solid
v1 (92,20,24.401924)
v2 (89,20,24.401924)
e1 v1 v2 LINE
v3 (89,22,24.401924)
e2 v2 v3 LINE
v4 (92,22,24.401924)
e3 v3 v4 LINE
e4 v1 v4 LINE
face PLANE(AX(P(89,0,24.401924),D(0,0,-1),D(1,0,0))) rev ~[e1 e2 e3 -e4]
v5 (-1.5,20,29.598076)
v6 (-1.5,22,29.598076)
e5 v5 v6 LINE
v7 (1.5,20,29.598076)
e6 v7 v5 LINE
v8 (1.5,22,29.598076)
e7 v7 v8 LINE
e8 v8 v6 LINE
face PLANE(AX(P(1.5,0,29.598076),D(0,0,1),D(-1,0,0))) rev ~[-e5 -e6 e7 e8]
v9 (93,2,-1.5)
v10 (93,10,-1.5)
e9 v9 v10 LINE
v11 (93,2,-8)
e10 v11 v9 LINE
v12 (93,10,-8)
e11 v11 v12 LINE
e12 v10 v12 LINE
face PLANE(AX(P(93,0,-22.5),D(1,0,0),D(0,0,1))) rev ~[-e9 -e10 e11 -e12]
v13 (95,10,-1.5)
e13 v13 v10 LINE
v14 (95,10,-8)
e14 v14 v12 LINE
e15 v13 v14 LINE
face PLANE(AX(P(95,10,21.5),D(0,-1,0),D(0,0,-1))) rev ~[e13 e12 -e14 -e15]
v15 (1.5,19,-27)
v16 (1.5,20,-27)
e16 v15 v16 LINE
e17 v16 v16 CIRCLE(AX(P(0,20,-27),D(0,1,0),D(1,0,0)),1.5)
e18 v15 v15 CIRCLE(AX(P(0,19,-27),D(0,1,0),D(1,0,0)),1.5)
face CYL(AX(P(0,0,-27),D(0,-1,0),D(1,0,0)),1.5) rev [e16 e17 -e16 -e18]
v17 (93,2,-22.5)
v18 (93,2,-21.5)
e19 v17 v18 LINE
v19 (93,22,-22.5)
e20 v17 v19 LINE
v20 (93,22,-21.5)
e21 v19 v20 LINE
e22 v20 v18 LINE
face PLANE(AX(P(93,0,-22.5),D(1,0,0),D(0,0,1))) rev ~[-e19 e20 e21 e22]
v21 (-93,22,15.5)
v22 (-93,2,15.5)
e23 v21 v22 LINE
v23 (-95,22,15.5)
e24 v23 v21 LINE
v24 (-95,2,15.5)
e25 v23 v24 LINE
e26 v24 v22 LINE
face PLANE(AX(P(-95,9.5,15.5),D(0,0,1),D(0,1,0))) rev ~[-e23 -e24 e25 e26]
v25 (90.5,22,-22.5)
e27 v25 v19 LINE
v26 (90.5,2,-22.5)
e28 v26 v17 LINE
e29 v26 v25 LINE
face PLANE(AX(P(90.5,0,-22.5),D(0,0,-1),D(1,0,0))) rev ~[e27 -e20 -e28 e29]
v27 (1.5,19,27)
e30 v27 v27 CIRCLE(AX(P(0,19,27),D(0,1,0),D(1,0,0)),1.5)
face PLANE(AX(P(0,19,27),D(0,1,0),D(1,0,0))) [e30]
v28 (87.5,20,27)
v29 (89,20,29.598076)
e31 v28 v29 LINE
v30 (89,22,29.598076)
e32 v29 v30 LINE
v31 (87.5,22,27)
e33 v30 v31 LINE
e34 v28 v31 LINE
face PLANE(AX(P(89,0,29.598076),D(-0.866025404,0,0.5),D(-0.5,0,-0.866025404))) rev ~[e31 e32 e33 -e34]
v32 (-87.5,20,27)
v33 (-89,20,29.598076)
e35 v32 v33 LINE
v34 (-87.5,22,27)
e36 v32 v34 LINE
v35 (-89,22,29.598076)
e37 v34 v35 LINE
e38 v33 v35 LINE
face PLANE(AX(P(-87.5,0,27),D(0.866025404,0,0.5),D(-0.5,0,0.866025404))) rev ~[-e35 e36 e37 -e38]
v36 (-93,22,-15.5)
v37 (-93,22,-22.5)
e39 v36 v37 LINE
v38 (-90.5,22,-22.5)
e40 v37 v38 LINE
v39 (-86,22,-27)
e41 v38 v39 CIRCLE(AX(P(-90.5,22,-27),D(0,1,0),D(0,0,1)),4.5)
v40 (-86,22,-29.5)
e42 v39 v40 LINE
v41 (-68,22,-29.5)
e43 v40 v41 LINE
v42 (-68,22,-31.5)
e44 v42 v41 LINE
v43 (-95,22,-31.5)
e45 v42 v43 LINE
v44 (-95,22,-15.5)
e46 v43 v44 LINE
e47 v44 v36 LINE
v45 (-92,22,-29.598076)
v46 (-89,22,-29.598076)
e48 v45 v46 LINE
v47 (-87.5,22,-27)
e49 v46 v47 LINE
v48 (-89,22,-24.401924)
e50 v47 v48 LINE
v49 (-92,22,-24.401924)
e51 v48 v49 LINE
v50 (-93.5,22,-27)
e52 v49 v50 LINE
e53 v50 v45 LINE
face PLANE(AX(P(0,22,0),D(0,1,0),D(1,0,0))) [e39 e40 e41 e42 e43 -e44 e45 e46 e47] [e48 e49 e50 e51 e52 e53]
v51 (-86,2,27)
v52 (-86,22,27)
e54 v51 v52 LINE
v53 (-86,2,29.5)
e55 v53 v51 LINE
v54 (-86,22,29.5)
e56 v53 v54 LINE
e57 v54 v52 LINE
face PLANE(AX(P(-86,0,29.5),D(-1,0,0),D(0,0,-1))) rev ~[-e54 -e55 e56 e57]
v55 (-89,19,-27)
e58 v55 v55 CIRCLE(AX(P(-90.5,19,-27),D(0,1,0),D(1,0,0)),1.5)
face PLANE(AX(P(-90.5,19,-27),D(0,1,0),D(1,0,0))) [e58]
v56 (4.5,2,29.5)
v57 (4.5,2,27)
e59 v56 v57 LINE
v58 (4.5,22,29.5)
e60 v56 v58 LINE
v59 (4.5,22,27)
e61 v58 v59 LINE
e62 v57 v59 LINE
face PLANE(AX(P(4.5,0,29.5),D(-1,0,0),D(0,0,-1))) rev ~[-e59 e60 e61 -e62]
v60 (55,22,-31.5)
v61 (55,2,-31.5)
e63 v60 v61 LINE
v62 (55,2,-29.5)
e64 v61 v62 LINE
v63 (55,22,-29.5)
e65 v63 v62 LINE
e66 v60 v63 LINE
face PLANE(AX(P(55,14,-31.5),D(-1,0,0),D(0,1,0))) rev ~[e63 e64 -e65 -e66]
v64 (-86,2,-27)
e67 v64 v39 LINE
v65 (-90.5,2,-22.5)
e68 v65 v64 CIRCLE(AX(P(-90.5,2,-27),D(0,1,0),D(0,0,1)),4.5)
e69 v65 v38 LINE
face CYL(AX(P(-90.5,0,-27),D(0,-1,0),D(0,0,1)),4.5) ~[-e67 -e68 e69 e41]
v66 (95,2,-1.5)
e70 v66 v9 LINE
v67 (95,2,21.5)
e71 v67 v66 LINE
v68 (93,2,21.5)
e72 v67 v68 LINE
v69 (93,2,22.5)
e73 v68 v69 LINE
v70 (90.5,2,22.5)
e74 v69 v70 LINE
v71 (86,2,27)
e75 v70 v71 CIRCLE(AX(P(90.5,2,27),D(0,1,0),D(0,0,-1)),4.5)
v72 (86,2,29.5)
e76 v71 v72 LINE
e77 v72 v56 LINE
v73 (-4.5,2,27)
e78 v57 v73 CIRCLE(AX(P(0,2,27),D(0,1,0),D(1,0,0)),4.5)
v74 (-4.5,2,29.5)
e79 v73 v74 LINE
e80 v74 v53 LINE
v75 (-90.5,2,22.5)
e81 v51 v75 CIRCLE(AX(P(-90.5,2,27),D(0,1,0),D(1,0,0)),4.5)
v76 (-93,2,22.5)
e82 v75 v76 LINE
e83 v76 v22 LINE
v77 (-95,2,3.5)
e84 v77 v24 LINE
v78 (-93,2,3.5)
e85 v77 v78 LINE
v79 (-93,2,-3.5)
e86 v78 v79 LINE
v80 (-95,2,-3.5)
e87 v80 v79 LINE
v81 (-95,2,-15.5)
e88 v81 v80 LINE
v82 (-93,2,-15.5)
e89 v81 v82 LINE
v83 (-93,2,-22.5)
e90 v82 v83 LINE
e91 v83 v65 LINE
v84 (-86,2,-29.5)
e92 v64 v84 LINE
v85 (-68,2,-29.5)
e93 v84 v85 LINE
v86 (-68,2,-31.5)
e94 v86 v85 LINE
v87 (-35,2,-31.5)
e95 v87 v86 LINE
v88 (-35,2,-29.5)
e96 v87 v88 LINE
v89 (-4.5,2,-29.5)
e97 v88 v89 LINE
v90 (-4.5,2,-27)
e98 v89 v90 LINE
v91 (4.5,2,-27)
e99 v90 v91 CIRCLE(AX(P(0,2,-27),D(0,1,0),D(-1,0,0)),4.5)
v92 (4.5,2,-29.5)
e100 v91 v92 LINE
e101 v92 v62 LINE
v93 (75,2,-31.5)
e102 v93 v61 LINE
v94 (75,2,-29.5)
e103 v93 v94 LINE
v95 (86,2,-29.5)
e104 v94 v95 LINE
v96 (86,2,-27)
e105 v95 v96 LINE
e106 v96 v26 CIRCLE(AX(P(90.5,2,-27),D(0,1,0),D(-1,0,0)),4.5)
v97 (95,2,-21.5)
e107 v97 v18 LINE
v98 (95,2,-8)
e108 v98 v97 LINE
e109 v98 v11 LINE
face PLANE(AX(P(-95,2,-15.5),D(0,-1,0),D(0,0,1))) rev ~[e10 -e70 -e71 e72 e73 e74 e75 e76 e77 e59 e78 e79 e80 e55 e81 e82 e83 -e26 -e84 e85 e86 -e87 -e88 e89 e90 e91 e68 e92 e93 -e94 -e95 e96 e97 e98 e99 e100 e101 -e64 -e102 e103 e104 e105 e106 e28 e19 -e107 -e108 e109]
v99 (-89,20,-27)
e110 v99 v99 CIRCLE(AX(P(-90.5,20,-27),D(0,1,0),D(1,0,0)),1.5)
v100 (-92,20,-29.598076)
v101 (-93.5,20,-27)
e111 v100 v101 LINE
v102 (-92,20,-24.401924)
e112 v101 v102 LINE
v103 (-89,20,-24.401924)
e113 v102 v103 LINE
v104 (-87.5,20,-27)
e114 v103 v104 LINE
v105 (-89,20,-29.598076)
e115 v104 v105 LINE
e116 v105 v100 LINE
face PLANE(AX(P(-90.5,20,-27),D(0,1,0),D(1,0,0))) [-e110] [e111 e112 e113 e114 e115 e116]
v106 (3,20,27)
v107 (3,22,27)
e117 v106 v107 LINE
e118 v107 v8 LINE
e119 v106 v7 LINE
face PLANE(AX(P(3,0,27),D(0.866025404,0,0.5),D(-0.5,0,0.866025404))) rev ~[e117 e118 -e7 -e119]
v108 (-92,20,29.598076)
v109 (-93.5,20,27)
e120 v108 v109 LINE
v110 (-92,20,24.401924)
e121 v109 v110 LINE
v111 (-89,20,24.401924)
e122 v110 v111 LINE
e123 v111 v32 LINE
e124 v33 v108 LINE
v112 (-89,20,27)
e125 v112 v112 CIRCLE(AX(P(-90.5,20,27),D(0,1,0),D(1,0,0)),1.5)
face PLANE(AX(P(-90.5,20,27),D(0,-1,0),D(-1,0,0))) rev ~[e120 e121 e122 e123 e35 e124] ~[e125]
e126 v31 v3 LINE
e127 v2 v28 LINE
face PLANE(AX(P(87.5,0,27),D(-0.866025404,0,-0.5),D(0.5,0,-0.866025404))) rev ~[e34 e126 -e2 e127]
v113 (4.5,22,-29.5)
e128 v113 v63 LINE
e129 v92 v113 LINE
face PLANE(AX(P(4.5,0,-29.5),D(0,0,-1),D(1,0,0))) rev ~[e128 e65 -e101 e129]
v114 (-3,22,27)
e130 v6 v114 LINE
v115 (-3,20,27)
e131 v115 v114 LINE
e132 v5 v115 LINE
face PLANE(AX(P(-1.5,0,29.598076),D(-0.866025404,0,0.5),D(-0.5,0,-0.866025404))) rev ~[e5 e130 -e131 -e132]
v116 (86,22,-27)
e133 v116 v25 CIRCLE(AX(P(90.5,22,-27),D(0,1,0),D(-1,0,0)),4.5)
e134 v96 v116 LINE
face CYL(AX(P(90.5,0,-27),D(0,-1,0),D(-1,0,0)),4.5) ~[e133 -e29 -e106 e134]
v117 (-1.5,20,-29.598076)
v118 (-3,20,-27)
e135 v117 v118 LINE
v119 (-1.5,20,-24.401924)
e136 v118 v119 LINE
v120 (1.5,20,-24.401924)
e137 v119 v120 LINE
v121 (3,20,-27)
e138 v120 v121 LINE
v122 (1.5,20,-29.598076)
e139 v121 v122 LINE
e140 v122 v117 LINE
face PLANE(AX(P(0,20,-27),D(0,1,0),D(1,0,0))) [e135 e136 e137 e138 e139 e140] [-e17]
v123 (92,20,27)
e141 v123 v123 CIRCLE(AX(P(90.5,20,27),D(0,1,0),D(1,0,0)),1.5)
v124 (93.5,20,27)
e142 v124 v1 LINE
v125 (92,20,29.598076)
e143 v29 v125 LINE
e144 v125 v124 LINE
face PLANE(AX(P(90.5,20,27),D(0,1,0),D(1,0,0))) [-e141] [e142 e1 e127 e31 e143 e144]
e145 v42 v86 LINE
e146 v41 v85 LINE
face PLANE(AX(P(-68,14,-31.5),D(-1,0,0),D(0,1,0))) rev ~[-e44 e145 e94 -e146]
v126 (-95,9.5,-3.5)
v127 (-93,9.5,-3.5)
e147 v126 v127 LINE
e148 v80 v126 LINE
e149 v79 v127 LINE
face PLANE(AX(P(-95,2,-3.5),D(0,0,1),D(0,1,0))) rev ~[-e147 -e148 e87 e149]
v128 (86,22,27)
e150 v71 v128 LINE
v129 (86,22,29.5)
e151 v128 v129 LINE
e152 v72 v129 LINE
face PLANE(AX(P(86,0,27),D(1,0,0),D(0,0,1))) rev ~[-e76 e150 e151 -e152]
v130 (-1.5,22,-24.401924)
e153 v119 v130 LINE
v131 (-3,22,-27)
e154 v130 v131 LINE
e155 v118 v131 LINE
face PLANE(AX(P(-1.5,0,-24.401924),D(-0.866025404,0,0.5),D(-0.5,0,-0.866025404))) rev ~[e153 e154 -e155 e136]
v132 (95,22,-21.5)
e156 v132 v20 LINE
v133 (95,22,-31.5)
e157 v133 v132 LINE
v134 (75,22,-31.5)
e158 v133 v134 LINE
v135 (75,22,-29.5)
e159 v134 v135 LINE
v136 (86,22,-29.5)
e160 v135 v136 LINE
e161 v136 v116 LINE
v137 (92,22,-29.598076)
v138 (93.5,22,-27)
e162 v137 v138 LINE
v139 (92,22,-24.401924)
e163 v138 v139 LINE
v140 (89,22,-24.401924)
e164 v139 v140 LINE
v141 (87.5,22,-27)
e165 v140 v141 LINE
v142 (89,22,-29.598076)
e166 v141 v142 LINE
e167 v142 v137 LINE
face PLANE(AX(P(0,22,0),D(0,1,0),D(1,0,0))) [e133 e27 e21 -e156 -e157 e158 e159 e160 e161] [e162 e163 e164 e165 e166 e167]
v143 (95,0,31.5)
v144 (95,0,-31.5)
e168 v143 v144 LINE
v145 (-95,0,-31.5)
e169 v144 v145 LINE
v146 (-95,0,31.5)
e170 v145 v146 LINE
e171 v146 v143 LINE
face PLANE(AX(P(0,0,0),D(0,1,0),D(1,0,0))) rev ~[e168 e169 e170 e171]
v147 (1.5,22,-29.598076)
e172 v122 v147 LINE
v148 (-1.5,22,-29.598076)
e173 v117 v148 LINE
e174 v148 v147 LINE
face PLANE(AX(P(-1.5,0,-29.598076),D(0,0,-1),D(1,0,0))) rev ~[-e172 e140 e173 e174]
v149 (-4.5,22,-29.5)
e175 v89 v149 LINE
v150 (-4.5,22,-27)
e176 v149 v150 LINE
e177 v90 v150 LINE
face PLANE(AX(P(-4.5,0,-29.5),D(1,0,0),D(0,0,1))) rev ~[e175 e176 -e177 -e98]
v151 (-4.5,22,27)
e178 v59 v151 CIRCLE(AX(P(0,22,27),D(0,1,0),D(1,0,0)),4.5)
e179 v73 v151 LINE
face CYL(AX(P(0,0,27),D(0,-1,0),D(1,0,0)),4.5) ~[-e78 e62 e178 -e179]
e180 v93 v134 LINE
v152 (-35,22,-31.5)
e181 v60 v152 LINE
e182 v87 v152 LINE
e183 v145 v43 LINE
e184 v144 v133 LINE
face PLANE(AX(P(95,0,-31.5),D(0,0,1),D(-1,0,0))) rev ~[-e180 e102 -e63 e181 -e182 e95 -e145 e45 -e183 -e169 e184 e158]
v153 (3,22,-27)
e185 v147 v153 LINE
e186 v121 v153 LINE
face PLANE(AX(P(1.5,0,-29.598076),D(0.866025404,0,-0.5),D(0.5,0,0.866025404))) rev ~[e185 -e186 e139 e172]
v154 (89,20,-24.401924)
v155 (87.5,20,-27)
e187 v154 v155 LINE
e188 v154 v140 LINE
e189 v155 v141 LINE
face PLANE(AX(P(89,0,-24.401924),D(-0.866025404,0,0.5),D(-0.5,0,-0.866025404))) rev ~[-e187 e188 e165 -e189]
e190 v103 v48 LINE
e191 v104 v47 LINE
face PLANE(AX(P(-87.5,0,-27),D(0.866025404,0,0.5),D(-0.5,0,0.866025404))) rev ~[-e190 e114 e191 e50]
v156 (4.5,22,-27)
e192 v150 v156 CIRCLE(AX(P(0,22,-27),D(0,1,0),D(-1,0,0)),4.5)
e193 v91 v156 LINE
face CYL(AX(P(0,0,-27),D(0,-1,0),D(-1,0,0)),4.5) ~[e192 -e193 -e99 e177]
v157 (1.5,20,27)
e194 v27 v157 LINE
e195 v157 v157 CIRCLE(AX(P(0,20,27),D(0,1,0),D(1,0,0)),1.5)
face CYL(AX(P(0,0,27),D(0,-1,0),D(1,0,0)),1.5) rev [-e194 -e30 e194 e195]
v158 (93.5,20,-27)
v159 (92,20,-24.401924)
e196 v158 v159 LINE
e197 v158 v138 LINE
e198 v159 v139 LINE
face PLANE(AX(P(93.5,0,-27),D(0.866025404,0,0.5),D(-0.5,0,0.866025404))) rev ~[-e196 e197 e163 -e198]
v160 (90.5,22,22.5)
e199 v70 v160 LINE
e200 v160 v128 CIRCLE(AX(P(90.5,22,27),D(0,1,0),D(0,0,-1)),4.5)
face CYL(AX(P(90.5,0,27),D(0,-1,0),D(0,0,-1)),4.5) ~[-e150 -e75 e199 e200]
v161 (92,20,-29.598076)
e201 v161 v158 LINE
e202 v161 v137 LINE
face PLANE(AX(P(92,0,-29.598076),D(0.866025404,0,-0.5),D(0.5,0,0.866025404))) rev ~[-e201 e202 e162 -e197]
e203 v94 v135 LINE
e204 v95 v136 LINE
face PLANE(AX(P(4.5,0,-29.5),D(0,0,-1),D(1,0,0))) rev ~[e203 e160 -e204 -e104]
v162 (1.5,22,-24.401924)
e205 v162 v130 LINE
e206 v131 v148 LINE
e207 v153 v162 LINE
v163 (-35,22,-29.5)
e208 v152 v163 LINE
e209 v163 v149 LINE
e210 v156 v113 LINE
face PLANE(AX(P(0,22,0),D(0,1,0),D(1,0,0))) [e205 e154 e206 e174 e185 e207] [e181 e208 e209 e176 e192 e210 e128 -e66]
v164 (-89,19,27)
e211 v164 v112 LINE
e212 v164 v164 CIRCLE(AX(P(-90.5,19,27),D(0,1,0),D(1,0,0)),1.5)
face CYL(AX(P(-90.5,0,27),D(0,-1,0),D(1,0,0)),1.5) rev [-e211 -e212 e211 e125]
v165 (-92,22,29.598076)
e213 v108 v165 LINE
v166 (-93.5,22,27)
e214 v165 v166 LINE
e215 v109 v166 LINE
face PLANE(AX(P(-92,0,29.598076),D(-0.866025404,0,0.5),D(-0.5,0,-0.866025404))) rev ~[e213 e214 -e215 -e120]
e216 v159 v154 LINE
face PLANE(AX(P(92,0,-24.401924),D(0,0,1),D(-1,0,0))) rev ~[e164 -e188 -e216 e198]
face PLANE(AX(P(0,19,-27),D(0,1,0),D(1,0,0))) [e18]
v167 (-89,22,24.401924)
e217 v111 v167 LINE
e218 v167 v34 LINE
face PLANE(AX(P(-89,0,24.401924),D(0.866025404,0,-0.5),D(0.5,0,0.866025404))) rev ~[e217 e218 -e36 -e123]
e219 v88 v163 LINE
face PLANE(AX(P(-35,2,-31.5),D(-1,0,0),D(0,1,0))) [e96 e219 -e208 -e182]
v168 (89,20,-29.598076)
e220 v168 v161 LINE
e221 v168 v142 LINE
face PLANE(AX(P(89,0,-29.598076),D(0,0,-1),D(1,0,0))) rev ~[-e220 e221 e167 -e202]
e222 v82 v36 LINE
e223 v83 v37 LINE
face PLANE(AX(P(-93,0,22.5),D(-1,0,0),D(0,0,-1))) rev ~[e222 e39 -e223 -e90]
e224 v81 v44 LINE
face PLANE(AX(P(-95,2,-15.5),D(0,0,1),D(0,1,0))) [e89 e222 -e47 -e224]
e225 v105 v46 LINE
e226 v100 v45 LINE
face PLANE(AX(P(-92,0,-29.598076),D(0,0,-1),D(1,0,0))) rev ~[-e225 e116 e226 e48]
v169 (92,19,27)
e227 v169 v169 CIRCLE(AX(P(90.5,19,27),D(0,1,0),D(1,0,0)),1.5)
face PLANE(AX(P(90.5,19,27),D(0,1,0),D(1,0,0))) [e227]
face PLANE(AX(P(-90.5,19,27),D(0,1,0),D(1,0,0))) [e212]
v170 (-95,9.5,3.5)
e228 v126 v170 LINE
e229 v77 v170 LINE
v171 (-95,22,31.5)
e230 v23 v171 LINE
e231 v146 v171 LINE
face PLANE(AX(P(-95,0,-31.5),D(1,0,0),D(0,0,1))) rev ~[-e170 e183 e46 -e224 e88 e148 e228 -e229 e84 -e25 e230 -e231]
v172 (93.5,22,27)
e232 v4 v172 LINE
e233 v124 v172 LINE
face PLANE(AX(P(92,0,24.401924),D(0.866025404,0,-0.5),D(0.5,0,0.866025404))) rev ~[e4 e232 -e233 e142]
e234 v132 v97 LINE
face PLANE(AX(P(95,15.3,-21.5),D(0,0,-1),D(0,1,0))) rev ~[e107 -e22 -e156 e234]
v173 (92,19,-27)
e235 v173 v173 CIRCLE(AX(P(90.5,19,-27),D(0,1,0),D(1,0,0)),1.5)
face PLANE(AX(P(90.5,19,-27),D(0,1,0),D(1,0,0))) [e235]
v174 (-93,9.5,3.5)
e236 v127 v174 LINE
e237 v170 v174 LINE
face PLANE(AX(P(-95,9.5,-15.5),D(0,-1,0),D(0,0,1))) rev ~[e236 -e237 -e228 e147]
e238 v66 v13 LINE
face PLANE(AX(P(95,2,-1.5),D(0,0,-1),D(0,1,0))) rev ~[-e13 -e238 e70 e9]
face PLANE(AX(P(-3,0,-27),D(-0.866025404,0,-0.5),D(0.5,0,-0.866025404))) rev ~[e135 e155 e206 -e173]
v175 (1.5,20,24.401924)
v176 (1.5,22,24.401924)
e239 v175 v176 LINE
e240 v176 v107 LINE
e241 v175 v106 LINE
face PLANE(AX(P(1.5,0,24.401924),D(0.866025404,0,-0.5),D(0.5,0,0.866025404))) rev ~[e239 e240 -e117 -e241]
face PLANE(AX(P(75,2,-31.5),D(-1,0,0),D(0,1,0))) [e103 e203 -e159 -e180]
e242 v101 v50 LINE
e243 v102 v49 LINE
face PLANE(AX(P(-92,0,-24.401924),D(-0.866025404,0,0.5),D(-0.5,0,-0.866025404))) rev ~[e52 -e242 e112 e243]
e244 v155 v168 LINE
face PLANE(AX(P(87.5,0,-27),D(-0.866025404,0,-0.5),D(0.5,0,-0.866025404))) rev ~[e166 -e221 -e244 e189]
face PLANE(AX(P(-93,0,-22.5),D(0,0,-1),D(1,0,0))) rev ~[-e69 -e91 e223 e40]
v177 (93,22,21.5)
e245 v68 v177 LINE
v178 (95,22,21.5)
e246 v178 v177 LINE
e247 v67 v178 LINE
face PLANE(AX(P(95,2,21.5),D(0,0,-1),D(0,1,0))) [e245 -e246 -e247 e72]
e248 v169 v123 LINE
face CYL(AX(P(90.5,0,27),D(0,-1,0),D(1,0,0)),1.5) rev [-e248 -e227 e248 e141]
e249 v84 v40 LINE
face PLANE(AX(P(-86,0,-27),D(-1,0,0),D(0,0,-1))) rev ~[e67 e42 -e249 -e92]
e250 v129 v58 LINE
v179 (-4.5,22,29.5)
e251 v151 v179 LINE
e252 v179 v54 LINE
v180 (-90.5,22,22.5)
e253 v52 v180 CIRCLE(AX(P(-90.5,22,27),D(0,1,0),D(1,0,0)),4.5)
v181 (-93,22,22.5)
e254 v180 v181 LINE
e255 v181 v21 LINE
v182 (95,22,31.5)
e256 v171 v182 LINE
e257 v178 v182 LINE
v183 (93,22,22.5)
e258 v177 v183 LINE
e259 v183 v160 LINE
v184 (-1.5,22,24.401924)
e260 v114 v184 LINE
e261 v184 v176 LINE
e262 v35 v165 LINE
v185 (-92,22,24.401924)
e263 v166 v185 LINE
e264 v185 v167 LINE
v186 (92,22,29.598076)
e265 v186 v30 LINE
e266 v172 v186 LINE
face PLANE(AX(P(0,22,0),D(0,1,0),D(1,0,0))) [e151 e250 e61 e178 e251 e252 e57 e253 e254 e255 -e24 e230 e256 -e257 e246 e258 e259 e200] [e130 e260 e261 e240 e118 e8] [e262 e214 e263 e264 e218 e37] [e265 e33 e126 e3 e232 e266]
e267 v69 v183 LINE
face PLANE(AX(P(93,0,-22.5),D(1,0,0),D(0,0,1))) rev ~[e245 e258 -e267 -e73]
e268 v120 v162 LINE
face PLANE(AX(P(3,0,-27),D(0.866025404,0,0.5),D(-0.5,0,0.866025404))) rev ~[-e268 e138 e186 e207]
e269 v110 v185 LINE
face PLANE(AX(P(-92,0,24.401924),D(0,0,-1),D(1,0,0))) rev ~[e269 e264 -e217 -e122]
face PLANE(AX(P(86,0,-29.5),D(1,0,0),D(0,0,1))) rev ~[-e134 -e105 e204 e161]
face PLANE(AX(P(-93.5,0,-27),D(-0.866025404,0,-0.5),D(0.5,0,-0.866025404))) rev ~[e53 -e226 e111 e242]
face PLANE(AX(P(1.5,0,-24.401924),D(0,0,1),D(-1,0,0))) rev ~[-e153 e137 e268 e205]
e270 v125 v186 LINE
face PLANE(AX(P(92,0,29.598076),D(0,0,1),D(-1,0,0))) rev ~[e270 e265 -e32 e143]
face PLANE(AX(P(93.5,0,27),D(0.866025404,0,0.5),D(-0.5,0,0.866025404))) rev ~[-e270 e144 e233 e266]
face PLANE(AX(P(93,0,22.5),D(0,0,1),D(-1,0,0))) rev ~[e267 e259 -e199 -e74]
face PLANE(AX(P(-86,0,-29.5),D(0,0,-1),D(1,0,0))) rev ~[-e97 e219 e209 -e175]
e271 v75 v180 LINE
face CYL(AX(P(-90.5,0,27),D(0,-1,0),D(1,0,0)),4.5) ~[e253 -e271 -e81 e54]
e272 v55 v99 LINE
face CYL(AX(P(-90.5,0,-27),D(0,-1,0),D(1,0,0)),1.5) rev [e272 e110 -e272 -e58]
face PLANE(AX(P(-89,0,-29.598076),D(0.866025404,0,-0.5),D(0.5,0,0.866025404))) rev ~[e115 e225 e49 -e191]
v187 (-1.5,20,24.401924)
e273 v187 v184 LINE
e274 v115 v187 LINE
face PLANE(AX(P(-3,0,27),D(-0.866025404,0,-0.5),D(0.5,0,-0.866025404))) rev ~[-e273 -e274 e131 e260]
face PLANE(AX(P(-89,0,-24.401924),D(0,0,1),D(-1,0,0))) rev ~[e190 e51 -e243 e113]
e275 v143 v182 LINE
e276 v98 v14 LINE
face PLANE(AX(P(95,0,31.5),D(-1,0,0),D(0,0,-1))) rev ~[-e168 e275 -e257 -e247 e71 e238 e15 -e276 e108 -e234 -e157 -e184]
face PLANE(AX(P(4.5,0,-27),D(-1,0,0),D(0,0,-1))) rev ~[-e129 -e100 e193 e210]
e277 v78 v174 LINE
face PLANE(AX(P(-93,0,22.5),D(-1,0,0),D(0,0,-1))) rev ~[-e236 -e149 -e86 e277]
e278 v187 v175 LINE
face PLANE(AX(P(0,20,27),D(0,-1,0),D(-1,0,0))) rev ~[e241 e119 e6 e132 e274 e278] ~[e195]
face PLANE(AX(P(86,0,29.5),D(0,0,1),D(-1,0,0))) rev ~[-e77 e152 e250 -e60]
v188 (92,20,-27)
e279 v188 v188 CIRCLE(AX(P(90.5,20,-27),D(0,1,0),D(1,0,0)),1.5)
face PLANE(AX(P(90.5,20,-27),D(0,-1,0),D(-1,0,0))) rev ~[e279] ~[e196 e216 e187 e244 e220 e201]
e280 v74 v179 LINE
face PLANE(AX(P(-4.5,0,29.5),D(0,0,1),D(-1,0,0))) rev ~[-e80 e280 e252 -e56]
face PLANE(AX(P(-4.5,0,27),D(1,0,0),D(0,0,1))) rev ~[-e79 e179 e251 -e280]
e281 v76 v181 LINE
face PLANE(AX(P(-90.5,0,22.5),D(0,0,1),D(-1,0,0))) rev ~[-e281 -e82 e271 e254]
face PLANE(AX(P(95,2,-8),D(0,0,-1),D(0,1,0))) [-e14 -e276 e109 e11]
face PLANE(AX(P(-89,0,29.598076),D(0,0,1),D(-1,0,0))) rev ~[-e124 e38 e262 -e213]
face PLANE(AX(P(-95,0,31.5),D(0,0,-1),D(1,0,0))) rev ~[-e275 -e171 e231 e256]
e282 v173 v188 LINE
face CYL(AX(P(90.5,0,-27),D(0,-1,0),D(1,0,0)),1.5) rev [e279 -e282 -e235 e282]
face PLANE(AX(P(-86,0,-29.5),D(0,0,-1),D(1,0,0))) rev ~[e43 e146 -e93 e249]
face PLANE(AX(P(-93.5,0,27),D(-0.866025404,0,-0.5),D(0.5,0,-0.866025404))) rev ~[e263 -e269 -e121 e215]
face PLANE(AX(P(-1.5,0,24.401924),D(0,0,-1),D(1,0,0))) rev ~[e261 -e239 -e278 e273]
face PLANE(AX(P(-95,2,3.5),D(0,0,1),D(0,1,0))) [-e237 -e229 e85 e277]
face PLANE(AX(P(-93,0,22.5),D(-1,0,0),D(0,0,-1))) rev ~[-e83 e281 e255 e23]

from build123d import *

# Parameters (mm, degrees)
BOSS_EXTRUDE1_DEPTH     = 2
SKETCH1_4_R             = 1.5
BOSS_EXTRUDE2_DEPTH     = 19
BOSS_EXTRUDE2_2_DEPTH   = 19
BOSS_EXTRUDE2_3_DEPTH   = 19
BOSS_EXTRUDE2_4_DEPTH   = 19
BOSS_EXTRUDE2_5_DEPTH   = 19
BOSS_EXTRUDE2_6_DEPTH   = 19
SKETCH1_5_R             = 1.5
BOSS_EXTRUDE3_DEPTH     = 20
BOSS_EXTRUDE4_DEPTH     = 22
SKETCH2_W               = 23
SKETCH2_H               = 8
SKETCH2_W_2             = 13.5
SKETCH2_H_2             = 13.3
CUT_EXTRUDE1_DEPTH      = 3
SKETCH3_W               = 20
SKETCH3_H               = 12
SKETCH3_W_2             = 33
CUT_EXTRUDE2_DEPTH      = 3
SKETCH4_W               = 12
SKETCH4_H               = 7.5
CUT_EXTRUDE3_DEPTH      = 3
CUT_EXTRUDE4_DEPTH      = 1
CUT_EXTRUDE4_DEPTH_BACK = 2
SKETCH6_W               = 20
SKETCH6_H               = 8
SKETCH6_W_2             = 33
CUT_EXTRUDE5_DEPTH      = 2
CUT_EXTRUDE6_DEPTH      = 1
CUT_EXTRUDE6_DEPTH_BACK = 2


with BuildPart() as part:
    # Sketch1 → Boss-Extrude1 (new body)
    with BuildSketch(Plane(origin=(0, 0, 0), x_dir=(1, 0, 0), z_dir=(0, 1, 0))):
        with BuildLine():
            ThreePointArc((86, 27), (87.318019485, 23.818019485), (90.5, 22.5))
            Line((90.5, 22.5), (93, 22.5))
            Line((93, 22.5), (93, -22.5))
            Line((93, -22.5), (90.5, -22.5))
            ThreePointArc((90.5, -22.5), (87.318019485, -23.818019485), (86, -27))
            Line((86, -27), (86, -29.5))
            Line((86, -29.5), (4.5, -29.5))
            Line((4.5, -29.5), (4.5, -27))
            ThreePointArc((4.5, -27), (0, -22.5), (-4.5, -27))
            Line((-4.5, -27), (-4.5, -29.5))
            Line((-4.5, -29.5), (-86, -29.5))
            Line((-86, -29.5), (-86, -27))
            ThreePointArc((-86, -27), (-87.318019485, -23.818019485), (-90.5, -22.5))
            Line((-90.5, -22.5), (-93, -22.5))
            Line((-93, -22.5), (-93, 22.5))
            Line((-93, 22.5), (-90.5, 22.5))
            ThreePointArc((-90.5, 22.5), (-87.318019485, 23.818019485), (-86, 27))
            Line((-86, 27), (-86, 29.5))
            Line((-86, 29.5), (-4.5, 29.5))
            Line((-4.5, 29.5), (-4.5, 27))
            ThreePointArc((-4.5, 27), (0, 22.5), (4.5, 27))
            Line((4.5, 27), (4.5, 29.5))
            Line((4.5, 29.5), (86, 29.5))
            Line((86, 29.5), (86, 27))
        make_face()
    extrude(amount=BOSS_EXTRUDE1_DEPTH)



with BuildPart() as body_2:
    # Sketch1<4> → Boss-Extrude2 (new body)
    with BuildSketch(Plane(origin=(0, 0, 0), x_dir=(1, 0, 0), z_dir=(0, 1, 0))):
        with Locations((90.5, 27)):
            Circle(SKETCH1_4_R)
    extrude(amount=BOSS_EXTRUDE2_DEPTH)



with BuildPart() as body_3:
    # Sketch1<4> → Boss-Extrude2 2 (new body)
    with BuildSketch(Plane(origin=(0, 0, 0), x_dir=(1, 0, 0), z_dir=(0, 1, 0))):
        with Locations((90.5, -27)):
            Circle(SKETCH1_4_R)
    extrude(amount=BOSS_EXTRUDE2_2_DEPTH)


with BuildPart() as body_4:
    # Sketch1<4> → Boss-Extrude2 3 (new body)
    with BuildSketch(Plane(origin=(0, 0, 0), x_dir=(1, 0, 0), z_dir=(0, 1, 0))):
        with Locations((0, -27)):
            Circle(SKETCH1_4_R)
    extrude(amount=BOSS_EXTRUDE2_3_DEPTH)


with BuildPart() as body_5:
    # Sketch1<4> → Boss-Extrude2 4 (new body)
    with BuildSketch(Plane(origin=(0, 0, 0), x_dir=(1, 0, 0), z_dir=(0, 1, 0))):
        with Locations((0, 27)):
            Circle(SKETCH1_4_R)
    extrude(amount=BOSS_EXTRUDE2_4_DEPTH)


with BuildPart() as body_6:
    # Sketch1<4> → Boss-Extrude2 5 (new body)
    with BuildSketch(Plane(origin=(0, 0, 0), x_dir=(1, 0, 0), z_dir=(0, 1, 0))):
        with Locations((-90.5, 27)):
            Circle(SKETCH1_4_R)
    extrude(amount=BOSS_EXTRUDE2_5_DEPTH)


with BuildPart() as body_7:
    # Sketch1<4> → Boss-Extrude2 6 (new body)
    with BuildSketch(Plane(origin=(0, 0, 0), x_dir=(1, 0, 0), z_dir=(0, 1, 0))):
        with Locations((-90.5, -27)):
            Circle(SKETCH1_4_R)
    extrude(amount=BOSS_EXTRUDE2_6_DEPTH)


with BuildPart() as body_2_1:
    add(body_2.part)

    add(body_3.part)  # Boss-Extrude3 merges body 3

    add(body_4.part)  # Boss-Extrude3 merges body 4

    add(body_5.part)  # Boss-Extrude3 merges body 5

    add(body_6.part)  # Boss-Extrude3 merges body 6

    add(body_7.part)  # Boss-Extrude3 merges body 7
    # Sketch1<5> → Boss-Extrude3 (add)
    with BuildSketch(Plane(origin=(0, 0, 0), x_dir=(1, 0, 0), z_dir=(0, 1, 0))):
        Polygon((93.5, 27), (92, 24.401923789), (89, 24.401923789), (87.5, 27), (89, 29.598076211), (92, 29.598076211), align=None)
        with Locations((90.5, 27)):
            Circle(SKETCH1_5_R, mode=Mode.SUBTRACT)
        Polygon((89, -29.598076211), (92, -29.598076211), (93.5, -27), (92, -24.401923789), (89, -24.401923789), (87.5, -27), align=None)
        with Locations((90.5, -27)):
            Circle(SKETCH1_5_R, mode=Mode.SUBTRACT)
        Polygon((3, -27), (1.5, -29.598076211), (-1.5, -29.598076211), (-3, -27), (-1.5, -24.401923789), (1.5, -24.401923789), align=None)
        with Locations((0, -27)):
            Circle(SKETCH1_5_R, mode=Mode.SUBTRACT)
        Polygon((-1.5, 24.401923789), (1.5, 24.401923789), (3, 27), (1.5, 29.598076211), (-1.5, 29.598076211), (-3, 27), align=None)
        with Locations((0, 27)):
            Circle(SKETCH1_5_R, mode=Mode.SUBTRACT)
        Polygon((-93.5, -27), (-92, -24.401923789), (-89, -24.401923789), (-87.5, -27), (-89, -29.598076211), (-92, -29.598076211), align=None)
        with Locations((-90.5, -27)):
            Circle(SKETCH1_5_R, mode=Mode.SUBTRACT)
        Polygon((-89, 29.598076211), (-92, 29.598076211), (-93.5, 27), (-92, 24.401923789), (-89, 24.401923789), (-87.5, 27), align=None)
        with Locations((-90.5, 27)):
            Circle(SKETCH1_5_R, mode=Mode.SUBTRACT)
    extrude(amount=BOSS_EXTRUDE3_DEPTH)


with BuildPart() as part_1:
    add(part.part)

    add(body_2_1.part)  # Boss-Extrude4 merges body 2
    # Sketch1<6> → Boss-Extrude4 (add)
    with BuildSketch(Plane(origin=(0, 0, 0), x_dir=(1, 0, 0), z_dir=(0, 1, 0))):
        Polygon((-95, -22.5), (-95, -31.5), (-86, -31.5), (86, -31.5), (95, -31.5), (95, -22.5), (95, 22.5), (95, 31.5), (86, 31.5), (4.5, 31.5), (-4.5, 31.5), (-86, 31.5), (-95, 31.5), (-95, 22.5), align=None)
        Polygon((-89, -29.598076211), (-92, -29.598076211), (-93.5, -27), (-92, -24.401923789), (-89, -24.401923789), (-87.5, -27), align=None, mode=Mode.SUBTRACT)
        Polygon((-1.5, -24.401923789), (1.5, -24.401923789), (3, -27), (1.5, -29.598076211), (-1.5, -29.598076211), (-3, -27), align=None, mode=Mode.SUBTRACT)
        Polygon((92, -29.598076211), (89, -29.598076211), (87.5, -27), (89, -24.401923789), (92, -24.401923789), (93.5, -27), align=None, mode=Mode.SUBTRACT)
        Polygon((-92, 24.401923789), (-93.5, 27), (-92, 29.598076211), (-89, 29.598076211), (-87.5, 27), (-89, 24.401923789), align=None, mode=Mode.SUBTRACT)
        Polygon((1.5, 29.598076211), (3, 27), (1.5, 24.401923789), (-1.5, 24.401923789), (-3, 27), (-1.5, 29.598076211), align=None, mode=Mode.SUBTRACT)
        with BuildLine():
            Line((-93, -22.5), (-93, 22.5))
            Line((-93, 22.5), (-90.5, 22.5))
            ThreePointArc((-90.5, 22.5), (-87.318019485, 23.818019485), (-86, 27))
            Line((-86, 27), (-86, 29.5))
            Line((-86, 29.5), (-4.5, 29.5))
            Line((-4.5, 29.5), (-4.5, 27))
            ThreePointArc((-4.5, 27), (0, 22.5), (4.5, 27))
            Line((4.5, 27), (4.5, 29.5))
            Line((4.5, 29.5), (86, 29.5))
            Line((86, 29.5), (86, 27))
            ThreePointArc((86, 27), (87.318019485, 23.818019485), (90.5, 22.5))
            Line((90.5, 22.5), (93, 22.5))
            Line((93, 22.5), (93, -22.5))
            Line((93, -22.5), (90.5, -22.5))
            ThreePointArc((90.5, -22.5), (87.318019485, -23.818019485), (86, -27))
            Line((86, -27), (86, -29.5))
            Line((86, -29.5), (4.5, -29.5))
            Line((4.5, -29.5), (4.5, -27))
            ThreePointArc((4.5, -27), (0, -22.5), (-4.5, -27))
            Line((-4.5, -27), (-4.5, -29.5))
            Line((-4.5, -29.5), (-86, -29.5))
            Line((-86, -29.5), (-86, -27))
            ThreePointArc((-86, -27), (-87.318019485, -23.818019485), (-90.5, -22.5))
            Line((-90.5, -22.5), (-93, -22.5))
        make_face(mode=Mode.SUBTRACT)
        Polygon((89, 29.598076211), (92, 29.598076211), (93.5, 27), (92, 24.401923789), (89, 24.401923789), (87.5, 27), align=None, mode=Mode.SUBTRACT)
    extrude(amount=BOSS_EXTRUDE4_DEPTH)

    # Sketch2 → Cut-Extrude1 (cut)
    with BuildSketch(Plane(origin=(95, 0, 0), x_dir=(0, 0, -1), z_dir=(1, 0, 0))):
        with Locations((-10, 6)):
            Rectangle(SKETCH2_W, SKETCH2_H)
        with Locations((14.75, 8.65)):
            Rectangle(SKETCH2_W_2, SKETCH2_H_2)
    extrude(amount=-CUT_EXTRUDE1_DEPTH, mode=Mode.SUBTRACT)

    # Sketch3 → Cut-Extrude2 (cut)
    with BuildSketch(Plane(origin=(0, 0, -31.5), x_dir=(-1, 0, 0), z_dir=(0, 0, -1))):
        with Locations((-65, 8)):
            Rectangle(SKETCH3_W, SKETCH3_H)
        with Locations((51.5, 8)):
            Rectangle(SKETCH3_W_2, SKETCH3_H)
    extrude(amount=-CUT_EXTRUDE2_DEPTH, mode=Mode.SUBTRACT)

    # Sketch4 → Cut-Extrude3 (cut)
    with BuildSketch(Plane.ZY.offset(95)):
        with Locations((-9.5, 5.75)):
            Rectangle(SKETCH4_W, SKETCH4_H)
        with Locations((9.5, 5.75)):
            Rectangle(SKETCH4_W, SKETCH4_H)
    extrude(amount=-CUT_EXTRUDE3_DEPTH, mode=Mode.SUBTRACT)

    # Sketch5 → Cut-Extrude4 (cut, two sides)
    with BuildSketch(Plane(origin=(95, 0, 0), x_dir=(0, 0, -1), z_dir=(1, 0, 0))) as cut_extrude4_sk:
        Polygon((-21.5, 22), (-21.5, 10), (1.5, 10), (8, 10), (8, 15.3), (21.5, 15.3), (21.5, 22), align=None)
    extrude(amount=CUT_EXTRUDE4_DEPTH, mode=Mode.SUBTRACT)
    extrude(cut_extrude4_sk.sketch, amount=-CUT_EXTRUDE4_DEPTH_BACK, mode=Mode.SUBTRACT)

    # Sketch6 → Cut-Extrude5 (cut)
    with BuildSketch(Plane(origin=(0, 0, -31.5), x_dir=(-1, 0, 0), z_dir=(0, 0, -1))):
        with Locations((-65, 18)):
            Rectangle(SKETCH6_W, SKETCH6_H)
        with Locations((51.5, 18)):
            Rectangle(SKETCH6_W_2, SKETCH6_H)
    extrude(amount=-CUT_EXTRUDE5_DEPTH, mode=Mode.SUBTRACT)

    # Sketch7 → Cut-Extrude6 (cut, two sides)
    with BuildSketch(Plane.ZY.offset(95)) as cut_extrude6_sk:
        Polygon((-15.5, 22), (-15.5, 9.5), (-3.5, 9.5), (3.5, 9.5), (15.5, 9.5), (15.5, 22), align=None)
    extrude(amount=CUT_EXTRUDE6_DEPTH, mode=Mode.SUBTRACT)
    extrude(cut_extrude6_sk.sketch, amount=-CUT_EXTRUDE6_DEPTH_BACK, mode=Mode.SUBTRACT)


solid = part_1.part
